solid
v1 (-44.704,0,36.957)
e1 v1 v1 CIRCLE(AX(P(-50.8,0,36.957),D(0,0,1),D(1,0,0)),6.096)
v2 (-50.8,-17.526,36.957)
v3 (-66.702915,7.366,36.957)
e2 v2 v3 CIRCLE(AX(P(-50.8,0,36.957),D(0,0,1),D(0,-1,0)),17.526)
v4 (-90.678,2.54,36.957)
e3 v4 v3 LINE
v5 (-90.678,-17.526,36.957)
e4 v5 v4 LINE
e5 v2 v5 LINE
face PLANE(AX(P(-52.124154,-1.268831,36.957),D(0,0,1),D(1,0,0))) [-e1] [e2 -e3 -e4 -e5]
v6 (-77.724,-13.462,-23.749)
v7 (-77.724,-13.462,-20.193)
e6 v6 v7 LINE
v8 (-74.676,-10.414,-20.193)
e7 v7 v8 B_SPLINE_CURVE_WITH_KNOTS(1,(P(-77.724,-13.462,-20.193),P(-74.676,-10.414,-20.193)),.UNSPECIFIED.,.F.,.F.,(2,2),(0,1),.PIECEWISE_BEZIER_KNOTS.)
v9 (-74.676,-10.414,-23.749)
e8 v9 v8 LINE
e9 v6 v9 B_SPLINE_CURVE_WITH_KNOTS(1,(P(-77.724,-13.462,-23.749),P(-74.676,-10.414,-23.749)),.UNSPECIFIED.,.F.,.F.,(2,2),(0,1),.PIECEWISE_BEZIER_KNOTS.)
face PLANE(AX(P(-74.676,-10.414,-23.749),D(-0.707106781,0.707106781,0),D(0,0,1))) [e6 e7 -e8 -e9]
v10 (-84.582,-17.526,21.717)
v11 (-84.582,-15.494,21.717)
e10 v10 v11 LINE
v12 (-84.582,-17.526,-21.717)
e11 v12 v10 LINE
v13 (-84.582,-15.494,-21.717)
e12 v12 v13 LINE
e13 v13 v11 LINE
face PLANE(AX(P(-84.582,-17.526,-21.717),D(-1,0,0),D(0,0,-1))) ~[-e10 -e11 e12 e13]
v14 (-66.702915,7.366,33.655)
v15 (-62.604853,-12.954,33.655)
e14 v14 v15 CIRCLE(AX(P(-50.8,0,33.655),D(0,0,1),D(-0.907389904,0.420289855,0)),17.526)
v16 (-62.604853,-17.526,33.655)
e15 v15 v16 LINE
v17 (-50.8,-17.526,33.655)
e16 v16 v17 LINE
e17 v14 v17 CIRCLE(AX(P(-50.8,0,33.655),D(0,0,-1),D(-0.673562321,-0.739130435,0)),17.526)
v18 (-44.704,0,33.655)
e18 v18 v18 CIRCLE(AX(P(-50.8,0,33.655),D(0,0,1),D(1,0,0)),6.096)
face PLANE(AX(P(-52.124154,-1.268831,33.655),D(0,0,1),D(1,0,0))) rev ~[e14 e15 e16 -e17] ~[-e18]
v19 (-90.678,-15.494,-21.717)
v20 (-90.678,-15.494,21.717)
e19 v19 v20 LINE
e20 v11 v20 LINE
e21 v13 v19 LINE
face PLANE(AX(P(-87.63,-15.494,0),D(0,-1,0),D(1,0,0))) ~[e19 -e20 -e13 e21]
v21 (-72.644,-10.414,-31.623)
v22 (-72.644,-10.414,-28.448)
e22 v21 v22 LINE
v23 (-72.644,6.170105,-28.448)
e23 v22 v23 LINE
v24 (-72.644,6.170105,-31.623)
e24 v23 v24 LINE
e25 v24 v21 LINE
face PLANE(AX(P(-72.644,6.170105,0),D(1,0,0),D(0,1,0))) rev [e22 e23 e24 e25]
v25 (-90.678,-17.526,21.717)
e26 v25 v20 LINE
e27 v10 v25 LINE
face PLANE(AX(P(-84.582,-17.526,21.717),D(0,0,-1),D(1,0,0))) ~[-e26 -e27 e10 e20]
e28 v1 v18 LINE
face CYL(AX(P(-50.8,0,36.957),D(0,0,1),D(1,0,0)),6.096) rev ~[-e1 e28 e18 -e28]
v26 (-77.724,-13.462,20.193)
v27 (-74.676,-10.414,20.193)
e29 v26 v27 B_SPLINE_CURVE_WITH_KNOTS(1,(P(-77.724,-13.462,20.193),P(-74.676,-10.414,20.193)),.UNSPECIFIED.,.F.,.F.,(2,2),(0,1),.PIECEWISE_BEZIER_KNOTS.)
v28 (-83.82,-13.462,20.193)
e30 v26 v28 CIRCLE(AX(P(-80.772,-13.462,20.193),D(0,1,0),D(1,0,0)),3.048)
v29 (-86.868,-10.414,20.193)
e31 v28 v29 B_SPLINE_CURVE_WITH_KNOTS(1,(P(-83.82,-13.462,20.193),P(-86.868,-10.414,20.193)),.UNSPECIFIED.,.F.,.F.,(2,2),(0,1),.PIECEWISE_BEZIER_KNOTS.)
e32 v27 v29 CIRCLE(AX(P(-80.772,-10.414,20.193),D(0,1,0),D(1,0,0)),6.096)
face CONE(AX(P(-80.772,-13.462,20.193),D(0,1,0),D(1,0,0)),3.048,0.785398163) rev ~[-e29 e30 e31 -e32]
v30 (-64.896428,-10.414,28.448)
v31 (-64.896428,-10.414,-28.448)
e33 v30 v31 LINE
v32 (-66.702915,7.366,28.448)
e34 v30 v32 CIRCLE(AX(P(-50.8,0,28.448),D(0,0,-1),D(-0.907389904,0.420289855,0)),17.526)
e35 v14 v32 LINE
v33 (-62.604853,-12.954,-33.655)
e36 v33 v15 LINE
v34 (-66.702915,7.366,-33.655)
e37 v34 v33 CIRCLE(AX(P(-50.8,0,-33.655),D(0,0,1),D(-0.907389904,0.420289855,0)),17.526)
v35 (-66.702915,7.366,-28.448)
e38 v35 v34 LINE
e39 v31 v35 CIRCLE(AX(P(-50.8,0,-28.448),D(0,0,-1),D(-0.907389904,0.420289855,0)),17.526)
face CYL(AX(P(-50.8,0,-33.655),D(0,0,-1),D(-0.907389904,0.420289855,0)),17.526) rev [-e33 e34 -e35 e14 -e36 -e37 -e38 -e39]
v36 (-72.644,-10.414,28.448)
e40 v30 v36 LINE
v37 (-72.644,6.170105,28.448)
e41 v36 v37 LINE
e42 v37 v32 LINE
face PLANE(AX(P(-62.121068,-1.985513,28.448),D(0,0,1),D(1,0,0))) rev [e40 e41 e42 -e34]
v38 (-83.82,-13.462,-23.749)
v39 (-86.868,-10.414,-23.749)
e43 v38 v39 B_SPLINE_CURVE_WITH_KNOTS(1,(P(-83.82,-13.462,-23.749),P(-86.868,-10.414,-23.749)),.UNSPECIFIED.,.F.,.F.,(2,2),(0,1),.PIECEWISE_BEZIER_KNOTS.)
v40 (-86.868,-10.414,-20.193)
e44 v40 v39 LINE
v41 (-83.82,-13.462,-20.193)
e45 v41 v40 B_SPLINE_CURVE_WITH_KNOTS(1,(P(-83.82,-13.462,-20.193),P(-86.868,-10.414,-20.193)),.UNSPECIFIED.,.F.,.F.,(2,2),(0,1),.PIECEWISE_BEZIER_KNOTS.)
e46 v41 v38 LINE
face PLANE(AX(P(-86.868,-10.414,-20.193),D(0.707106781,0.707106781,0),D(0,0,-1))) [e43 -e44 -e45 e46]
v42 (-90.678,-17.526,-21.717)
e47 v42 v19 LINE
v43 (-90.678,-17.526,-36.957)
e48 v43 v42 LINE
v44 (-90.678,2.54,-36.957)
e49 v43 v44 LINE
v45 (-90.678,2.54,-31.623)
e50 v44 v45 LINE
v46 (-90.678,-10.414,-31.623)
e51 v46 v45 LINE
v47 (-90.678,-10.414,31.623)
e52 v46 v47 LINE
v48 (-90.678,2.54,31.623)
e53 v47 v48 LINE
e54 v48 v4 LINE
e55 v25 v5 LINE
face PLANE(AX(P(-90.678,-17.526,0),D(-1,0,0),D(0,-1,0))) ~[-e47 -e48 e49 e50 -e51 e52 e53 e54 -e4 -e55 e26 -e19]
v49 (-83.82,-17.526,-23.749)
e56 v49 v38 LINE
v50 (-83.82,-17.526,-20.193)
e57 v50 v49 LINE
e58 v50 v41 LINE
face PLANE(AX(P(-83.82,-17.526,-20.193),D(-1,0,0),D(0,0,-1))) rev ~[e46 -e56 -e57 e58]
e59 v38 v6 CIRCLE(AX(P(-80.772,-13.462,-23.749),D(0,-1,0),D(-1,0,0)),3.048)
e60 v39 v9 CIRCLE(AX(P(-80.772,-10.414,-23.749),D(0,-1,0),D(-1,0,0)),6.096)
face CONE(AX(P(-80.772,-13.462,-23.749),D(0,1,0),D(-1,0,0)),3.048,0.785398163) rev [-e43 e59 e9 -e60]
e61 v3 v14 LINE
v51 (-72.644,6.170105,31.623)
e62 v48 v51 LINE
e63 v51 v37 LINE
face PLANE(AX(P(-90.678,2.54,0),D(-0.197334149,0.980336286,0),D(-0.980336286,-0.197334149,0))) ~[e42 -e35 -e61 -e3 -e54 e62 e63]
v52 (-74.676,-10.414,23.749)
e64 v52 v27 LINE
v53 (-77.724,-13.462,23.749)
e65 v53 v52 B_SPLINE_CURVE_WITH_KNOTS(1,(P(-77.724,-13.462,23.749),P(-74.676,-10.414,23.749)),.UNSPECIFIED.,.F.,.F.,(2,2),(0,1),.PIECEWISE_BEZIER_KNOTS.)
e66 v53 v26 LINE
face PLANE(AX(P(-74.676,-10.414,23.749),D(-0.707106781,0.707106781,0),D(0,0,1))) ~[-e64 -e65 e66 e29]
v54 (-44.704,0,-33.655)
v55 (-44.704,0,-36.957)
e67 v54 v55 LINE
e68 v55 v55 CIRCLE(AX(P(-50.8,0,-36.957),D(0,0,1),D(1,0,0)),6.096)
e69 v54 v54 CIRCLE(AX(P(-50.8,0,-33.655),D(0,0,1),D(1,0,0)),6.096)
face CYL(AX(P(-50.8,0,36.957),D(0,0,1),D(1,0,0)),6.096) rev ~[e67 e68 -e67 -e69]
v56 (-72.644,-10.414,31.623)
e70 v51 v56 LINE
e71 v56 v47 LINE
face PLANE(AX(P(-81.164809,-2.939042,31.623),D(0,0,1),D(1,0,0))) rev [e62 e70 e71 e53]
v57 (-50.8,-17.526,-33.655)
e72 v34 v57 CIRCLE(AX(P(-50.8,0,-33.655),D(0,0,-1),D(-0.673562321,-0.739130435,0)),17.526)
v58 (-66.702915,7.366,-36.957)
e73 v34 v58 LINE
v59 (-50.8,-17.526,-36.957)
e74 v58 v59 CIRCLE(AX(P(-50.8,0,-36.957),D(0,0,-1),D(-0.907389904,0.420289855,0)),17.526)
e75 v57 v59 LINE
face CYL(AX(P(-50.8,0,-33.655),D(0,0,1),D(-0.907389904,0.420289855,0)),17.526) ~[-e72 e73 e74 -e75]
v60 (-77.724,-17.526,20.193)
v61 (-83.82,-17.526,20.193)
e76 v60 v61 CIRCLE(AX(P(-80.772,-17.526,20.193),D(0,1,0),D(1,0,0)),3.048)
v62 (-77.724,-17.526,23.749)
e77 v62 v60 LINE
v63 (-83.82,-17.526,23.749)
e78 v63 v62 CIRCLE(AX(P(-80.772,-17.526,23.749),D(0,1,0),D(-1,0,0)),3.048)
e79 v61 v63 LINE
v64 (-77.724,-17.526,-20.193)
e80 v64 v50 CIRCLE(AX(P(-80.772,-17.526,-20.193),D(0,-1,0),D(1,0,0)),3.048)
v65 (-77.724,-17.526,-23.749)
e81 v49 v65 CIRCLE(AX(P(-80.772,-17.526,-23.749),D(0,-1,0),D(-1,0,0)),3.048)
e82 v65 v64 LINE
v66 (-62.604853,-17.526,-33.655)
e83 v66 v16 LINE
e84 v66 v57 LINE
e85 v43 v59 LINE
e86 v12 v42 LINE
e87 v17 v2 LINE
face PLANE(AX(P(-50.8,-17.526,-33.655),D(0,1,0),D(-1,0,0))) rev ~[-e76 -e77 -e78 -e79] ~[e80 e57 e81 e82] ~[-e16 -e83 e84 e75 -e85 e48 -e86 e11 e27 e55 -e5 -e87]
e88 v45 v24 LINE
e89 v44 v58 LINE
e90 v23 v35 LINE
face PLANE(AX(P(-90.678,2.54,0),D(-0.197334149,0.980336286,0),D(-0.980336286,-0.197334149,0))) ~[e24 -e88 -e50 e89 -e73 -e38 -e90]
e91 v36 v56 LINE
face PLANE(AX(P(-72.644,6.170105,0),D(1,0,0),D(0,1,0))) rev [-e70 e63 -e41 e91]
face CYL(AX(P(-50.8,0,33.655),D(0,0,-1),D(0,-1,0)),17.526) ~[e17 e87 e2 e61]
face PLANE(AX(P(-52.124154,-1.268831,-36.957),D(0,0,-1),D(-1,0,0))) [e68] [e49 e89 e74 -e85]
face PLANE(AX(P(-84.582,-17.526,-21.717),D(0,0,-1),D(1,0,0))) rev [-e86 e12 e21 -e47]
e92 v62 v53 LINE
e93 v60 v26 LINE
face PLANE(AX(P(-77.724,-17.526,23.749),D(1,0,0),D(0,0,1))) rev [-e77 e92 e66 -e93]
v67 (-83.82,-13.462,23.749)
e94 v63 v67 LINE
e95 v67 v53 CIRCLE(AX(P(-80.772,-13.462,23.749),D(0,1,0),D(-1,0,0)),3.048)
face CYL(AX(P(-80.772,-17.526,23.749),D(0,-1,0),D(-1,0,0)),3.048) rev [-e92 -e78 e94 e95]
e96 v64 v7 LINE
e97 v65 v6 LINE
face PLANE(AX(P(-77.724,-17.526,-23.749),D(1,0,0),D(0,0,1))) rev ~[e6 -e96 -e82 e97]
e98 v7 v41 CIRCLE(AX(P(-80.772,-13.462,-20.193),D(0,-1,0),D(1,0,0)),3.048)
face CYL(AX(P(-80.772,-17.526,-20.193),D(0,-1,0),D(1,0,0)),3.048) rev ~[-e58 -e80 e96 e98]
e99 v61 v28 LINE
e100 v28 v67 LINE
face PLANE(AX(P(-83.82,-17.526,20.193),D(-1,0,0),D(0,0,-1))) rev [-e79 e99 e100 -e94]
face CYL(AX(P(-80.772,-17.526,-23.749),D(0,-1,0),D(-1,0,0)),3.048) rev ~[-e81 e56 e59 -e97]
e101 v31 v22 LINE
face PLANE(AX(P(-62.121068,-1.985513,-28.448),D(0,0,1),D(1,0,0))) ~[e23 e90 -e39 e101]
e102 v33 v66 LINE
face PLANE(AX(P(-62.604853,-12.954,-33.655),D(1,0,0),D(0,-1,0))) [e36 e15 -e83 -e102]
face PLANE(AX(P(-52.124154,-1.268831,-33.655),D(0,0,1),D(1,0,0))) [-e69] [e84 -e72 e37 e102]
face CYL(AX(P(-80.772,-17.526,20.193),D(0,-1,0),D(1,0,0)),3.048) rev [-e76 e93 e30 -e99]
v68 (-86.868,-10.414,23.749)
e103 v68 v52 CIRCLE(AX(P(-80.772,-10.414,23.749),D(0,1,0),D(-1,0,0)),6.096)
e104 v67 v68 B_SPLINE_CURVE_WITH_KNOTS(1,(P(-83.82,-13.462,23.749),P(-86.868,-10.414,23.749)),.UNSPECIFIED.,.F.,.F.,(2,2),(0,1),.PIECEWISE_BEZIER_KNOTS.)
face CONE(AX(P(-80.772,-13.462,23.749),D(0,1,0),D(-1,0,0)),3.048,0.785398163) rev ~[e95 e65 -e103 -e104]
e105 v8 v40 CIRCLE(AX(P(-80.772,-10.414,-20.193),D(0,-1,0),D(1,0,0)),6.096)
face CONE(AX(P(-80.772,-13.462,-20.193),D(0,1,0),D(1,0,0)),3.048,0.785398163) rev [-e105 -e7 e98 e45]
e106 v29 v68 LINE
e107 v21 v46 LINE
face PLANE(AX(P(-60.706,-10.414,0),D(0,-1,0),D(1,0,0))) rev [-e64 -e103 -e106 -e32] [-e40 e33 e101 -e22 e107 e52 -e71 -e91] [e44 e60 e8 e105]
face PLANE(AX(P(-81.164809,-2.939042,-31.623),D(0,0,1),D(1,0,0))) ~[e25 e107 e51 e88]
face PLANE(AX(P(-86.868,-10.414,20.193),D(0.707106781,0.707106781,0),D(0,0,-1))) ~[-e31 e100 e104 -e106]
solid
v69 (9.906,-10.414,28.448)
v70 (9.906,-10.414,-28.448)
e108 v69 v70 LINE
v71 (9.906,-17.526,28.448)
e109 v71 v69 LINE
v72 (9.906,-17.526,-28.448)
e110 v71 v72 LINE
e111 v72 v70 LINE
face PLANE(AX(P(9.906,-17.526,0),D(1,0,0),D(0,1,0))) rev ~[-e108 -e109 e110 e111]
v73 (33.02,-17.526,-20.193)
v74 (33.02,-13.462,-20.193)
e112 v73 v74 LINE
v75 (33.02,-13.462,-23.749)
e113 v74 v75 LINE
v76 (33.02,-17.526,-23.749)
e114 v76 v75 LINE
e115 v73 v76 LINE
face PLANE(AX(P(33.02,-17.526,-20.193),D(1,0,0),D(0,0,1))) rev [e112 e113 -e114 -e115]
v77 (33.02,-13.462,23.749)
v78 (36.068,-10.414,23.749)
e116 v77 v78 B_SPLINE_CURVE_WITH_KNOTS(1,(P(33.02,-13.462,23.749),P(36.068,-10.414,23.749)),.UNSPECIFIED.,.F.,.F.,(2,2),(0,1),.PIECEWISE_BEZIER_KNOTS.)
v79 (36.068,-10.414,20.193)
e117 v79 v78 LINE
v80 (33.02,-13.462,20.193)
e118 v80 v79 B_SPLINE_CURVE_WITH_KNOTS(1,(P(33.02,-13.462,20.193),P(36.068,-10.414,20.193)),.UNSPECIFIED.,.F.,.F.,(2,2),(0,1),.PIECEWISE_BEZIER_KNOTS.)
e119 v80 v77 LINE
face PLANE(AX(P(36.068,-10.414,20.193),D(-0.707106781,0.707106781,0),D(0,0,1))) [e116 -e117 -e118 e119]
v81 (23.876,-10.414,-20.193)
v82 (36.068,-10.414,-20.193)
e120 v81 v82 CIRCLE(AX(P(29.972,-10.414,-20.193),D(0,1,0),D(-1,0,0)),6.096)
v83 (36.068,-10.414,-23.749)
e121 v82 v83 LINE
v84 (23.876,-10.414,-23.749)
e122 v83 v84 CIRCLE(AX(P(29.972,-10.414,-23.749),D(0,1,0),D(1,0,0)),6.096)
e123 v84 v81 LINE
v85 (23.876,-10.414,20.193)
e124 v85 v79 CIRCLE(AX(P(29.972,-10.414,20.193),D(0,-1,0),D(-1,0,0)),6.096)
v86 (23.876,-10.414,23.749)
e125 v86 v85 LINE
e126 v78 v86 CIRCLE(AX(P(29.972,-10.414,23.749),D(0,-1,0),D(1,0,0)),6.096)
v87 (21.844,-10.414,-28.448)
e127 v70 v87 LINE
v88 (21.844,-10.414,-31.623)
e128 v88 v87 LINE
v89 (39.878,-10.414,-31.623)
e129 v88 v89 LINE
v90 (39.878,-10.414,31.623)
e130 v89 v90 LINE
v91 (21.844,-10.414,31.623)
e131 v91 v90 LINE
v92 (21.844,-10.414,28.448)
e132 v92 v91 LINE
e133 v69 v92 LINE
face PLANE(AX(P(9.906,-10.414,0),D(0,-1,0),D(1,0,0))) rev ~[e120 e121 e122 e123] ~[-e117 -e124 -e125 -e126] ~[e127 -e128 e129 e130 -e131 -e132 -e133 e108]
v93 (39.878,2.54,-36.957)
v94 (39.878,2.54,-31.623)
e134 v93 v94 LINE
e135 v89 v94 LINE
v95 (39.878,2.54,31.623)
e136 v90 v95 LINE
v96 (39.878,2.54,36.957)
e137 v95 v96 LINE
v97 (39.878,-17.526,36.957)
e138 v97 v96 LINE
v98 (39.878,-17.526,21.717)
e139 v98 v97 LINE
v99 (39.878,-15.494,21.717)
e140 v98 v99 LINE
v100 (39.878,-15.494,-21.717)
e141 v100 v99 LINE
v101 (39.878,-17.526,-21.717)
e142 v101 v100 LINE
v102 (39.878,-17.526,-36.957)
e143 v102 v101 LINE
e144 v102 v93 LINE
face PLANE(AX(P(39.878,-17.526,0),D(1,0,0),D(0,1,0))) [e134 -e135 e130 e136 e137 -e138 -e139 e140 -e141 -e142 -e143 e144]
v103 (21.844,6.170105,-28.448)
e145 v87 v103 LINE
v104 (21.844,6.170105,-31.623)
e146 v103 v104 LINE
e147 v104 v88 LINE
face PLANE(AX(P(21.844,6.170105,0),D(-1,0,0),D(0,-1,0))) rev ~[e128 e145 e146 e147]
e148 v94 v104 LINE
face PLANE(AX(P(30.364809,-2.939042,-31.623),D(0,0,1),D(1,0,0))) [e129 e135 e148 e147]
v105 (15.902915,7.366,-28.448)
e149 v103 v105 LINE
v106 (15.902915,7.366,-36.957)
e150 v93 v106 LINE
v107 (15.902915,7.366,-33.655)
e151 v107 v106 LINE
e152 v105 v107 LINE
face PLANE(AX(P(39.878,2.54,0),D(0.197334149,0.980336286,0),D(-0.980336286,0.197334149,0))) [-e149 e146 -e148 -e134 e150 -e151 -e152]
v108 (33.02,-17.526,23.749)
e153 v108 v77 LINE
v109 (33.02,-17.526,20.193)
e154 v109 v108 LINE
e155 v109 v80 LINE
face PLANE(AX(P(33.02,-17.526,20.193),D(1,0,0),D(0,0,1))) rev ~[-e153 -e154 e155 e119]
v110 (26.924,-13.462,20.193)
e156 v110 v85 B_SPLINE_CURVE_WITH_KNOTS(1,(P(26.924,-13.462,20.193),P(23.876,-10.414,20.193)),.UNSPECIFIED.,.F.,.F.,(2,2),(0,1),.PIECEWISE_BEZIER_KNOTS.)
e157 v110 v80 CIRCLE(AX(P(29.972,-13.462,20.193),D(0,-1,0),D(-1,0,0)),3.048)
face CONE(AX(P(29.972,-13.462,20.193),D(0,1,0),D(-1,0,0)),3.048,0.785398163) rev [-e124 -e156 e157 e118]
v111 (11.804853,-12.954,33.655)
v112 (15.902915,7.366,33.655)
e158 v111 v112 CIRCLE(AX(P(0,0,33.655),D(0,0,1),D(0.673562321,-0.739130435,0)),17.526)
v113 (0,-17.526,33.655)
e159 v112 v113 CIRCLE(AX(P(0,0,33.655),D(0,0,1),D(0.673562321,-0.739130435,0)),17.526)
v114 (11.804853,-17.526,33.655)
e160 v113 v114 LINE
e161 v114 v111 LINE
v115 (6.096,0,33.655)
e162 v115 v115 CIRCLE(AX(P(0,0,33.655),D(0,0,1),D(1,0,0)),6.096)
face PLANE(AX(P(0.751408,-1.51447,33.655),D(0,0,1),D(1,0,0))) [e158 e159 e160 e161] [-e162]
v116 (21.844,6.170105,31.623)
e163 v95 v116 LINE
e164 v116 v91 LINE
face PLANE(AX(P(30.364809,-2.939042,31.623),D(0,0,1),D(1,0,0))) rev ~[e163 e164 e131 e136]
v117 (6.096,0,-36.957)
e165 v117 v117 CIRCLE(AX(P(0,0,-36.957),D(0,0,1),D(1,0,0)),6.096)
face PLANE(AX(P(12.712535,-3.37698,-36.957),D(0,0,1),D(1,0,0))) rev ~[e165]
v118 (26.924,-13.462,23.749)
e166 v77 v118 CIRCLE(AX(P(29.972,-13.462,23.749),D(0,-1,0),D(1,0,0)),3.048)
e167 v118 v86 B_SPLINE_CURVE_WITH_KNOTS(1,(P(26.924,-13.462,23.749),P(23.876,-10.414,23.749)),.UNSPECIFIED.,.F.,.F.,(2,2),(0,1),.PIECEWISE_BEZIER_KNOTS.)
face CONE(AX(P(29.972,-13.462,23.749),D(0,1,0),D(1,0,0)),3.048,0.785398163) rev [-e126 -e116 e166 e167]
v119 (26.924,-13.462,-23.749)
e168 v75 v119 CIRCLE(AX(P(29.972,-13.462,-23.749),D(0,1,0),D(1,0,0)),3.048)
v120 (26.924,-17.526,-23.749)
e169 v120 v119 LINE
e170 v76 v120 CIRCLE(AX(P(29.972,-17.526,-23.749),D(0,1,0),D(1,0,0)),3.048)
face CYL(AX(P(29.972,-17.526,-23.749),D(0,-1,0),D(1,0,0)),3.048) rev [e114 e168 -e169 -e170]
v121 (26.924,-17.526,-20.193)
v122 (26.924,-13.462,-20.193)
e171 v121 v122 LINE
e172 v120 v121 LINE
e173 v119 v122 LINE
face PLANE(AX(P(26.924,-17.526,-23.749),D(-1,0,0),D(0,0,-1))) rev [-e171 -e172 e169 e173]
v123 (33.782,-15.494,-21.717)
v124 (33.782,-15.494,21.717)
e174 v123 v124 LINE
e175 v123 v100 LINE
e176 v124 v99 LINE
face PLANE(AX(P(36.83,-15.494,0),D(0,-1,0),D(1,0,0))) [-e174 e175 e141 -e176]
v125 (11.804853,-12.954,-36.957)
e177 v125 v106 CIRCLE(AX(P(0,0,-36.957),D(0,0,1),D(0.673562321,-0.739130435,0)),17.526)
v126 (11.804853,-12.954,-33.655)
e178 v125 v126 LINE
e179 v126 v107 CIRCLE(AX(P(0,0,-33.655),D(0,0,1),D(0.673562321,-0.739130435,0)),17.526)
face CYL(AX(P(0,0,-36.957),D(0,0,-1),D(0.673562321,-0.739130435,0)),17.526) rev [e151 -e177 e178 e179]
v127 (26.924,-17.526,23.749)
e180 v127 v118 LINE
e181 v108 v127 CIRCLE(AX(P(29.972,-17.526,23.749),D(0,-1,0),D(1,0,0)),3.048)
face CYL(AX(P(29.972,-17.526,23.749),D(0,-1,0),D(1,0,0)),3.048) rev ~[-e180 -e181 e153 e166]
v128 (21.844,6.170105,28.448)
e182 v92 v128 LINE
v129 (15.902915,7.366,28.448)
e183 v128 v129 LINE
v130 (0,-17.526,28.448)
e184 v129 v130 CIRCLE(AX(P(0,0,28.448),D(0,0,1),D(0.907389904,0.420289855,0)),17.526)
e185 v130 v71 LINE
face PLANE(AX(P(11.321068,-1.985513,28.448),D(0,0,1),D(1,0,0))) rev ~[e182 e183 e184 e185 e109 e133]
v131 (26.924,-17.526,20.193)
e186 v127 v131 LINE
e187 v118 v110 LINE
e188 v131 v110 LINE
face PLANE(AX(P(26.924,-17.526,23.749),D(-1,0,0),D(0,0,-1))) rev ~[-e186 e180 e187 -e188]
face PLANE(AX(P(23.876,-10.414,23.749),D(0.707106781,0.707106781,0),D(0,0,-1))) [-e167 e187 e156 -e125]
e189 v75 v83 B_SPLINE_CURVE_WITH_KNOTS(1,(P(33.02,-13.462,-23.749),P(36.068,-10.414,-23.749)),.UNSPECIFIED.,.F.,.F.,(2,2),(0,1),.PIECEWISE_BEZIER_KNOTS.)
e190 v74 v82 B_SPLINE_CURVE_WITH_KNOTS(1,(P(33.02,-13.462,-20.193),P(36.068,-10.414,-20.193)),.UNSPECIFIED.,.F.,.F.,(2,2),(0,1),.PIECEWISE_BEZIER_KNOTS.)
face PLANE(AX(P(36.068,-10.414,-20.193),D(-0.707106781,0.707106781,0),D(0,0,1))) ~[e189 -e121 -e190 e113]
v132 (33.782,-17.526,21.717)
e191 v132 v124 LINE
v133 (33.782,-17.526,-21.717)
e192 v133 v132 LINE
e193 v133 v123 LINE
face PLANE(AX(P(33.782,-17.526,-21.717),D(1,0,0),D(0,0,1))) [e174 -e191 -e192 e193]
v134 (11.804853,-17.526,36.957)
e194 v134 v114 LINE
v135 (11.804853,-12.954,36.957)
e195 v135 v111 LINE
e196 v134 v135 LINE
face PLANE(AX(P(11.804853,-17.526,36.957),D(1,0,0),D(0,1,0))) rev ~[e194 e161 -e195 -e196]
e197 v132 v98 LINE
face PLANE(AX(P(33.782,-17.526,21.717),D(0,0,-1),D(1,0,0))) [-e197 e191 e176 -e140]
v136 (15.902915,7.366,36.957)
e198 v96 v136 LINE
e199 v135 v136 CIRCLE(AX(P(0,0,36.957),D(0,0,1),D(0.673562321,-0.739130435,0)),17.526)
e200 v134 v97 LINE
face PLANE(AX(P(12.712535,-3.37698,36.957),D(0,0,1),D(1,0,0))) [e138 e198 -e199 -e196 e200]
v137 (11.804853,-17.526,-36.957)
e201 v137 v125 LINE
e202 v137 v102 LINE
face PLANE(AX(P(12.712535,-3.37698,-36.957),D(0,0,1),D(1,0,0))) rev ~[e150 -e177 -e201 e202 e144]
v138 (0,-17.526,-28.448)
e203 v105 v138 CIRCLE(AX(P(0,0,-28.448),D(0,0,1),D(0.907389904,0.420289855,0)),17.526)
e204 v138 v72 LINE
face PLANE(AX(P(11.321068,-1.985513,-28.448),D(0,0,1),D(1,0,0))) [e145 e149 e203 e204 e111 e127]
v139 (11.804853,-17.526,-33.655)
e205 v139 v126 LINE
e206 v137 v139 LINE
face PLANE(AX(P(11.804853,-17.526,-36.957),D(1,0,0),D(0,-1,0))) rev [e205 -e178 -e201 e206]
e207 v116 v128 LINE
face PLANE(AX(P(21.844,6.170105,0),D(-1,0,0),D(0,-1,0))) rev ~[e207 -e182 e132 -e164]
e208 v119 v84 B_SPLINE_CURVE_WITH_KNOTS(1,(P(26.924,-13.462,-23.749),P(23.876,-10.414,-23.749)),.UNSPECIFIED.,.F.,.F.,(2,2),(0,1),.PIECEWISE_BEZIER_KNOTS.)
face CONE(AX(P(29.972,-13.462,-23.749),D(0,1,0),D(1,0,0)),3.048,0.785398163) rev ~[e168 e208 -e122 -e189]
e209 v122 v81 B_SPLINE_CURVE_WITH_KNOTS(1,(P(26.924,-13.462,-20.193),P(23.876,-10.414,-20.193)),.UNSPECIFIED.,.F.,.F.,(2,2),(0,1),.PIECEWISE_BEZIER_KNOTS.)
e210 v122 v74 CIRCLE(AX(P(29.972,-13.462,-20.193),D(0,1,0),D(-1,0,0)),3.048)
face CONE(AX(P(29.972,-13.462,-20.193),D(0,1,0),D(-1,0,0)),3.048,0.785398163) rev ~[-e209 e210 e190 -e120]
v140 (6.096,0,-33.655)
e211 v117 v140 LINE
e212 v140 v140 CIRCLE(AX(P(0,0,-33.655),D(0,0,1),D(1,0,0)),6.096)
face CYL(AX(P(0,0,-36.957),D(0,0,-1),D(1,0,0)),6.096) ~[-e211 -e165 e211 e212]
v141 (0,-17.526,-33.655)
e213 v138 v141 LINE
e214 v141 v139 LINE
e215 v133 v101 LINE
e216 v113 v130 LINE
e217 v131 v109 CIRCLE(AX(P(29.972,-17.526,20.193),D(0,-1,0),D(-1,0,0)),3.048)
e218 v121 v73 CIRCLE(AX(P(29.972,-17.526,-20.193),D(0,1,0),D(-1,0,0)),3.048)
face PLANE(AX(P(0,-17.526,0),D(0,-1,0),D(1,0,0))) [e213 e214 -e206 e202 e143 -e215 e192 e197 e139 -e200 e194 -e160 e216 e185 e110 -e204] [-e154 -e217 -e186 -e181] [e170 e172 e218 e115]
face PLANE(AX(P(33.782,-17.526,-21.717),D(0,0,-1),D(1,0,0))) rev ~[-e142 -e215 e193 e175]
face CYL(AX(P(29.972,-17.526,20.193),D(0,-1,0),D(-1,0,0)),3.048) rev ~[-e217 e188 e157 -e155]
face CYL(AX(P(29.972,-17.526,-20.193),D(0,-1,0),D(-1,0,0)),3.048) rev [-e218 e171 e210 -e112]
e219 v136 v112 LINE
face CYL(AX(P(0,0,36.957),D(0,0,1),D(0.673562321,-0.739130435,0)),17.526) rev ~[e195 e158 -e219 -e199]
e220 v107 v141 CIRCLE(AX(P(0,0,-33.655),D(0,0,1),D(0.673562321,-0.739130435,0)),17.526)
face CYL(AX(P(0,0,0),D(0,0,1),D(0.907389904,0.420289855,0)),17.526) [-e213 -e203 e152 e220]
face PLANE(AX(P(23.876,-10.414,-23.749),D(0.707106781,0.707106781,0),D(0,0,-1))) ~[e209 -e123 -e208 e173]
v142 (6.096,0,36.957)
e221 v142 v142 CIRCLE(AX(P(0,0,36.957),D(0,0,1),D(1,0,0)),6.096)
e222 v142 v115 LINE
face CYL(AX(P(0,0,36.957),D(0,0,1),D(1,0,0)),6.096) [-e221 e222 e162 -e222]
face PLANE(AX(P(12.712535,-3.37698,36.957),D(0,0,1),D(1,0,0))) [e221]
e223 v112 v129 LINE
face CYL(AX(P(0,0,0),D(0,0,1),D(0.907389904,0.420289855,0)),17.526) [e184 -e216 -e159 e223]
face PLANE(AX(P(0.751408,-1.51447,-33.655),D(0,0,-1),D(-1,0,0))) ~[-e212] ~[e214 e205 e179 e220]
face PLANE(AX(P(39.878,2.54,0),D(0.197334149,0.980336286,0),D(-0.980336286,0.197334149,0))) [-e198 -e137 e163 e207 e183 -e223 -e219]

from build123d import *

# Parameters (mm, degrees)
EXTRUDE1_DEPTH          = 36.957
CUT_EXTRUDE1_DEPTH      = 31.623
CUT_EXTRUDE1_DEPTH_BACK = 31.623
CUT_EXTRUDE2_DEPTH      = 28.448
SKETCH5_R               = 6.096
CUT_EXTRUDE3_DEPTH      = 3.302
SKETCH6_W               = 6.096
SKETCH6_H               = 43.434
CUT_EXTRUDE4_DEPTH      = 2.032
CUT_EXTRUDE5_DEPTH      = 4.064
CUT_EXTRUDE6_DEPTH      = 3.048
CUT_EXTRUDE6_TAPER      = -45
EXTRUDE2_DEPTH          = 3.302
EXTRUDE3_DEPTH          = 3.302
CUT_EXTRUDE7_START      = -33.655
CUT_EXTRUDE7_DEPTH      = 67.31
SKETCH9_R               = 6.096
CUT_EXTRUDE8_DEPTH      = 74.914


with BuildPart() as part:
    # Sketch2 → Extrude1 (new body, symmetric)
    with BuildSketch(Plane.XY):
        with BuildLine():
            Line((0, -17.526), (39.878, -17.526))
            Line((39.878, -17.526), (39.878, 2.54))
            Line((39.878, 2.54), (15.902915456, 7.366))
            ThreePointArc((15.902915456, 7.366), (-14.769177228, 9.435681215), (0, -17.526))
        make_face()
    extrude(amount=EXTRUDE1_DEPTH, both=True)

    # Sketch3 → Cut-Extrude1 (cut, two sides)
    with BuildSketch(Plane.XY) as cut_extrude1_sk:
        Polygon((39.878, -10.414), (39.878, 2.54), (21.844, 6.170105405), (21.844, -10.414), align=None)
    extrude(amount=CUT_EXTRUDE1_DEPTH, mode=Mode.SUBTRACT)
    extrude(cut_extrude1_sk.sketch, amount=-CUT_EXTRUDE1_DEPTH_BACK, mode=Mode.SUBTRACT)

    # Sketch4 → Cut-Extrude2 (cut, symmetric)
    with BuildSketch(Plane.XY):
        with BuildLine():
            Line((9.906, -10.414), (39.878, -10.414))
            Line((39.878, -10.414), (39.878, 2.54))
            Line((39.878, 2.54), (15.902915456, 7.366))
            ThreePointArc((15.902915456, 7.366), (-14.769177228, 9.435681215), (0, -17.526))
            Line((0, -17.526), (9.906, -17.526))
            Line((9.906, -17.526), (9.906, -10.414))
        make_face()
    extrude(amount=CUT_EXTRUDE2_DEPTH, both=True, mode=Mode.SUBTRACT)

    # Sketch5 → Cut-Extrude3 (cut)
    with BuildSketch(Plane.XY.offset(36.957)):
        with BuildLine():
            Line((0, -17.526), (11.804853239, -17.526))
            Line((11.804853239, -17.526), (11.804853239, -12.954))
            ThreePointArc((11.804853239, -12.954), (-6.329647384, 16.343079269), (0, -17.526))
        make_face()
        Circle(SKETCH5_R, mode=Mode.SUBTRACT)
    cut_extrude3 = extrude(amount=-CUT_EXTRUDE3_DEPTH, mode=Mode.SUBTRACT)

    # Sketch6 → Cut-Extrude4 (cut)
    with BuildSketch(Plane.XZ.offset(17.526)):
        with Locations((36.83, 0)):
            Rectangle(SKETCH6_W, SKETCH6_H)
    extrude(amount=-CUT_EXTRUDE4_DEPTH, mode=Mode.SUBTRACT)

    # Sketch7 → Cut-Extrude5 (cut)
    with BuildSketch(Plane.XZ.offset(17.526)):
        with BuildLine():
            Line((26.924, 23.749), (26.924, 20.193))
            ThreePointArc((26.924, 20.193), (29.972, 17.145), (33.02, 20.193))
            Line((33.02, 20.193), (33.02, 23.749))
            ThreePointArc((33.02, 23.749), (29.972, 26.797), (26.924, 23.749))
        make_face()
    cut_extrude5 = extrude(amount=-CUT_EXTRUDE5_DEPTH, mode=Mode.SUBTRACT)

    # Sketch8 → Cut-Extrude6 (cut)
    with BuildSketch(Plane.XZ.offset(13.462)):
        with BuildLine():
            Line((26.924, 23.749), (26.924, 20.193))
            ThreePointArc((26.924, 20.193), (29.972, 17.145), (33.02, 20.193))
            Line((33.02, 20.193), (33.02, 23.749))
            ThreePointArc((33.02, 23.749), (29.972, 26.797), (26.924, 23.749))
        make_face()
    cut_extrude6 = extrude(amount=-CUT_EXTRUDE6_DEPTH, taper=CUT_EXTRUDE6_TAPER, mode=Mode.SUBTRACT)

    # Mirror1: Cut-Extrude3, Cut-Extrude5, Cut-Extrude6 across plane
    add(cut_extrude3.mirror(Plane.XY), mode=Mode.SUBTRACT)
    add(cut_extrude5.mirror(Plane.XY), mode=Mode.SUBTRACT)
    add(cut_extrude6.mirror(Plane.XY), mode=Mode.SUBTRACT)


with BuildPart() as body_2:
    # Mirror3: mirrored copy
    add(part.part.mirror(Plane(origin=(-25.4, 0, 0), x_dir=(0, 0, 1), z_dir=(1, 0, 0))))

    # Sketch10 → Extrude2 (add)
    with BuildSketch(Plane.XY.offset(33.655)):
        with BuildLine():
            Line((-62.604853239, -12.954), (-62.604853239, -17.526))
            Line((-62.604853239, -17.526), (-50.8, -17.526))
            ThreePointArc((-50.8, -17.526), (-36.030822772, 9.435681215), (-66.702915456, 7.366))
            ThreePointArc((-66.702915456, 7.366), (-67.980096377, -3.464818102), (-62.604853239, -12.954))
        make_face()
    extrude(amount=EXTRUDE2_DEPTH)

    # Sketch11 → Extrude3 (add)
    with BuildSketch(Plane(origin=(0, 0, -33.655), x_dir=(-1, 0, 0), z_dir=(0, 0, -1))):
        with BuildLine():
            Line((50.8, -17.526), (62.604853239, -17.526))
            Line((62.604853239, -17.526), (62.604853239, -12.954))
            ThreePointArc((62.604853239, -12.954), (67.980096377, -3.464818102), (66.702915456, 7.366))
            ThreePointArc((66.702915456, 7.366), (36.030822772, 9.435681215), (50.8, -17.526))
        make_face()
    extrude(amount=EXTRUDE3_DEPTH)

    # Sketch12 → Cut-Extrude7 (cut)
    with BuildSketch(Plane.XY.offset(CUT_EXTRUDE7_START)):
        with BuildLine():
            Line((-62.604853239, -12.954), (-62.604853239, -17.526))
            Line((-62.604853239, -17.526), (-50.8, -17.526))
            ThreePointArc((-50.8, -17.526), (-36.030822772, 9.435681215), (-66.702915456, 7.366))
            ThreePointArc((-66.702915456, 7.366), (-67.980096377, -3.464818102), (-62.604853239, -12.954))
        make_face()
    extrude(amount=CUT_EXTRUDE7_DEPTH, mode=Mode.SUBTRACT)

    # Sketch9 → Cut-Extrude8 (cut, through all)
    with BuildSketch(Plane.XY.offset(36.957)):
        with Locations((-50.8, 0)):
            Circle(SKETCH9_R)
    extrude(amount=-CUT_EXTRUDE8_DEPTH, mode=Mode.SUBTRACT)


solid = Compound([part.part, body_2.part])
